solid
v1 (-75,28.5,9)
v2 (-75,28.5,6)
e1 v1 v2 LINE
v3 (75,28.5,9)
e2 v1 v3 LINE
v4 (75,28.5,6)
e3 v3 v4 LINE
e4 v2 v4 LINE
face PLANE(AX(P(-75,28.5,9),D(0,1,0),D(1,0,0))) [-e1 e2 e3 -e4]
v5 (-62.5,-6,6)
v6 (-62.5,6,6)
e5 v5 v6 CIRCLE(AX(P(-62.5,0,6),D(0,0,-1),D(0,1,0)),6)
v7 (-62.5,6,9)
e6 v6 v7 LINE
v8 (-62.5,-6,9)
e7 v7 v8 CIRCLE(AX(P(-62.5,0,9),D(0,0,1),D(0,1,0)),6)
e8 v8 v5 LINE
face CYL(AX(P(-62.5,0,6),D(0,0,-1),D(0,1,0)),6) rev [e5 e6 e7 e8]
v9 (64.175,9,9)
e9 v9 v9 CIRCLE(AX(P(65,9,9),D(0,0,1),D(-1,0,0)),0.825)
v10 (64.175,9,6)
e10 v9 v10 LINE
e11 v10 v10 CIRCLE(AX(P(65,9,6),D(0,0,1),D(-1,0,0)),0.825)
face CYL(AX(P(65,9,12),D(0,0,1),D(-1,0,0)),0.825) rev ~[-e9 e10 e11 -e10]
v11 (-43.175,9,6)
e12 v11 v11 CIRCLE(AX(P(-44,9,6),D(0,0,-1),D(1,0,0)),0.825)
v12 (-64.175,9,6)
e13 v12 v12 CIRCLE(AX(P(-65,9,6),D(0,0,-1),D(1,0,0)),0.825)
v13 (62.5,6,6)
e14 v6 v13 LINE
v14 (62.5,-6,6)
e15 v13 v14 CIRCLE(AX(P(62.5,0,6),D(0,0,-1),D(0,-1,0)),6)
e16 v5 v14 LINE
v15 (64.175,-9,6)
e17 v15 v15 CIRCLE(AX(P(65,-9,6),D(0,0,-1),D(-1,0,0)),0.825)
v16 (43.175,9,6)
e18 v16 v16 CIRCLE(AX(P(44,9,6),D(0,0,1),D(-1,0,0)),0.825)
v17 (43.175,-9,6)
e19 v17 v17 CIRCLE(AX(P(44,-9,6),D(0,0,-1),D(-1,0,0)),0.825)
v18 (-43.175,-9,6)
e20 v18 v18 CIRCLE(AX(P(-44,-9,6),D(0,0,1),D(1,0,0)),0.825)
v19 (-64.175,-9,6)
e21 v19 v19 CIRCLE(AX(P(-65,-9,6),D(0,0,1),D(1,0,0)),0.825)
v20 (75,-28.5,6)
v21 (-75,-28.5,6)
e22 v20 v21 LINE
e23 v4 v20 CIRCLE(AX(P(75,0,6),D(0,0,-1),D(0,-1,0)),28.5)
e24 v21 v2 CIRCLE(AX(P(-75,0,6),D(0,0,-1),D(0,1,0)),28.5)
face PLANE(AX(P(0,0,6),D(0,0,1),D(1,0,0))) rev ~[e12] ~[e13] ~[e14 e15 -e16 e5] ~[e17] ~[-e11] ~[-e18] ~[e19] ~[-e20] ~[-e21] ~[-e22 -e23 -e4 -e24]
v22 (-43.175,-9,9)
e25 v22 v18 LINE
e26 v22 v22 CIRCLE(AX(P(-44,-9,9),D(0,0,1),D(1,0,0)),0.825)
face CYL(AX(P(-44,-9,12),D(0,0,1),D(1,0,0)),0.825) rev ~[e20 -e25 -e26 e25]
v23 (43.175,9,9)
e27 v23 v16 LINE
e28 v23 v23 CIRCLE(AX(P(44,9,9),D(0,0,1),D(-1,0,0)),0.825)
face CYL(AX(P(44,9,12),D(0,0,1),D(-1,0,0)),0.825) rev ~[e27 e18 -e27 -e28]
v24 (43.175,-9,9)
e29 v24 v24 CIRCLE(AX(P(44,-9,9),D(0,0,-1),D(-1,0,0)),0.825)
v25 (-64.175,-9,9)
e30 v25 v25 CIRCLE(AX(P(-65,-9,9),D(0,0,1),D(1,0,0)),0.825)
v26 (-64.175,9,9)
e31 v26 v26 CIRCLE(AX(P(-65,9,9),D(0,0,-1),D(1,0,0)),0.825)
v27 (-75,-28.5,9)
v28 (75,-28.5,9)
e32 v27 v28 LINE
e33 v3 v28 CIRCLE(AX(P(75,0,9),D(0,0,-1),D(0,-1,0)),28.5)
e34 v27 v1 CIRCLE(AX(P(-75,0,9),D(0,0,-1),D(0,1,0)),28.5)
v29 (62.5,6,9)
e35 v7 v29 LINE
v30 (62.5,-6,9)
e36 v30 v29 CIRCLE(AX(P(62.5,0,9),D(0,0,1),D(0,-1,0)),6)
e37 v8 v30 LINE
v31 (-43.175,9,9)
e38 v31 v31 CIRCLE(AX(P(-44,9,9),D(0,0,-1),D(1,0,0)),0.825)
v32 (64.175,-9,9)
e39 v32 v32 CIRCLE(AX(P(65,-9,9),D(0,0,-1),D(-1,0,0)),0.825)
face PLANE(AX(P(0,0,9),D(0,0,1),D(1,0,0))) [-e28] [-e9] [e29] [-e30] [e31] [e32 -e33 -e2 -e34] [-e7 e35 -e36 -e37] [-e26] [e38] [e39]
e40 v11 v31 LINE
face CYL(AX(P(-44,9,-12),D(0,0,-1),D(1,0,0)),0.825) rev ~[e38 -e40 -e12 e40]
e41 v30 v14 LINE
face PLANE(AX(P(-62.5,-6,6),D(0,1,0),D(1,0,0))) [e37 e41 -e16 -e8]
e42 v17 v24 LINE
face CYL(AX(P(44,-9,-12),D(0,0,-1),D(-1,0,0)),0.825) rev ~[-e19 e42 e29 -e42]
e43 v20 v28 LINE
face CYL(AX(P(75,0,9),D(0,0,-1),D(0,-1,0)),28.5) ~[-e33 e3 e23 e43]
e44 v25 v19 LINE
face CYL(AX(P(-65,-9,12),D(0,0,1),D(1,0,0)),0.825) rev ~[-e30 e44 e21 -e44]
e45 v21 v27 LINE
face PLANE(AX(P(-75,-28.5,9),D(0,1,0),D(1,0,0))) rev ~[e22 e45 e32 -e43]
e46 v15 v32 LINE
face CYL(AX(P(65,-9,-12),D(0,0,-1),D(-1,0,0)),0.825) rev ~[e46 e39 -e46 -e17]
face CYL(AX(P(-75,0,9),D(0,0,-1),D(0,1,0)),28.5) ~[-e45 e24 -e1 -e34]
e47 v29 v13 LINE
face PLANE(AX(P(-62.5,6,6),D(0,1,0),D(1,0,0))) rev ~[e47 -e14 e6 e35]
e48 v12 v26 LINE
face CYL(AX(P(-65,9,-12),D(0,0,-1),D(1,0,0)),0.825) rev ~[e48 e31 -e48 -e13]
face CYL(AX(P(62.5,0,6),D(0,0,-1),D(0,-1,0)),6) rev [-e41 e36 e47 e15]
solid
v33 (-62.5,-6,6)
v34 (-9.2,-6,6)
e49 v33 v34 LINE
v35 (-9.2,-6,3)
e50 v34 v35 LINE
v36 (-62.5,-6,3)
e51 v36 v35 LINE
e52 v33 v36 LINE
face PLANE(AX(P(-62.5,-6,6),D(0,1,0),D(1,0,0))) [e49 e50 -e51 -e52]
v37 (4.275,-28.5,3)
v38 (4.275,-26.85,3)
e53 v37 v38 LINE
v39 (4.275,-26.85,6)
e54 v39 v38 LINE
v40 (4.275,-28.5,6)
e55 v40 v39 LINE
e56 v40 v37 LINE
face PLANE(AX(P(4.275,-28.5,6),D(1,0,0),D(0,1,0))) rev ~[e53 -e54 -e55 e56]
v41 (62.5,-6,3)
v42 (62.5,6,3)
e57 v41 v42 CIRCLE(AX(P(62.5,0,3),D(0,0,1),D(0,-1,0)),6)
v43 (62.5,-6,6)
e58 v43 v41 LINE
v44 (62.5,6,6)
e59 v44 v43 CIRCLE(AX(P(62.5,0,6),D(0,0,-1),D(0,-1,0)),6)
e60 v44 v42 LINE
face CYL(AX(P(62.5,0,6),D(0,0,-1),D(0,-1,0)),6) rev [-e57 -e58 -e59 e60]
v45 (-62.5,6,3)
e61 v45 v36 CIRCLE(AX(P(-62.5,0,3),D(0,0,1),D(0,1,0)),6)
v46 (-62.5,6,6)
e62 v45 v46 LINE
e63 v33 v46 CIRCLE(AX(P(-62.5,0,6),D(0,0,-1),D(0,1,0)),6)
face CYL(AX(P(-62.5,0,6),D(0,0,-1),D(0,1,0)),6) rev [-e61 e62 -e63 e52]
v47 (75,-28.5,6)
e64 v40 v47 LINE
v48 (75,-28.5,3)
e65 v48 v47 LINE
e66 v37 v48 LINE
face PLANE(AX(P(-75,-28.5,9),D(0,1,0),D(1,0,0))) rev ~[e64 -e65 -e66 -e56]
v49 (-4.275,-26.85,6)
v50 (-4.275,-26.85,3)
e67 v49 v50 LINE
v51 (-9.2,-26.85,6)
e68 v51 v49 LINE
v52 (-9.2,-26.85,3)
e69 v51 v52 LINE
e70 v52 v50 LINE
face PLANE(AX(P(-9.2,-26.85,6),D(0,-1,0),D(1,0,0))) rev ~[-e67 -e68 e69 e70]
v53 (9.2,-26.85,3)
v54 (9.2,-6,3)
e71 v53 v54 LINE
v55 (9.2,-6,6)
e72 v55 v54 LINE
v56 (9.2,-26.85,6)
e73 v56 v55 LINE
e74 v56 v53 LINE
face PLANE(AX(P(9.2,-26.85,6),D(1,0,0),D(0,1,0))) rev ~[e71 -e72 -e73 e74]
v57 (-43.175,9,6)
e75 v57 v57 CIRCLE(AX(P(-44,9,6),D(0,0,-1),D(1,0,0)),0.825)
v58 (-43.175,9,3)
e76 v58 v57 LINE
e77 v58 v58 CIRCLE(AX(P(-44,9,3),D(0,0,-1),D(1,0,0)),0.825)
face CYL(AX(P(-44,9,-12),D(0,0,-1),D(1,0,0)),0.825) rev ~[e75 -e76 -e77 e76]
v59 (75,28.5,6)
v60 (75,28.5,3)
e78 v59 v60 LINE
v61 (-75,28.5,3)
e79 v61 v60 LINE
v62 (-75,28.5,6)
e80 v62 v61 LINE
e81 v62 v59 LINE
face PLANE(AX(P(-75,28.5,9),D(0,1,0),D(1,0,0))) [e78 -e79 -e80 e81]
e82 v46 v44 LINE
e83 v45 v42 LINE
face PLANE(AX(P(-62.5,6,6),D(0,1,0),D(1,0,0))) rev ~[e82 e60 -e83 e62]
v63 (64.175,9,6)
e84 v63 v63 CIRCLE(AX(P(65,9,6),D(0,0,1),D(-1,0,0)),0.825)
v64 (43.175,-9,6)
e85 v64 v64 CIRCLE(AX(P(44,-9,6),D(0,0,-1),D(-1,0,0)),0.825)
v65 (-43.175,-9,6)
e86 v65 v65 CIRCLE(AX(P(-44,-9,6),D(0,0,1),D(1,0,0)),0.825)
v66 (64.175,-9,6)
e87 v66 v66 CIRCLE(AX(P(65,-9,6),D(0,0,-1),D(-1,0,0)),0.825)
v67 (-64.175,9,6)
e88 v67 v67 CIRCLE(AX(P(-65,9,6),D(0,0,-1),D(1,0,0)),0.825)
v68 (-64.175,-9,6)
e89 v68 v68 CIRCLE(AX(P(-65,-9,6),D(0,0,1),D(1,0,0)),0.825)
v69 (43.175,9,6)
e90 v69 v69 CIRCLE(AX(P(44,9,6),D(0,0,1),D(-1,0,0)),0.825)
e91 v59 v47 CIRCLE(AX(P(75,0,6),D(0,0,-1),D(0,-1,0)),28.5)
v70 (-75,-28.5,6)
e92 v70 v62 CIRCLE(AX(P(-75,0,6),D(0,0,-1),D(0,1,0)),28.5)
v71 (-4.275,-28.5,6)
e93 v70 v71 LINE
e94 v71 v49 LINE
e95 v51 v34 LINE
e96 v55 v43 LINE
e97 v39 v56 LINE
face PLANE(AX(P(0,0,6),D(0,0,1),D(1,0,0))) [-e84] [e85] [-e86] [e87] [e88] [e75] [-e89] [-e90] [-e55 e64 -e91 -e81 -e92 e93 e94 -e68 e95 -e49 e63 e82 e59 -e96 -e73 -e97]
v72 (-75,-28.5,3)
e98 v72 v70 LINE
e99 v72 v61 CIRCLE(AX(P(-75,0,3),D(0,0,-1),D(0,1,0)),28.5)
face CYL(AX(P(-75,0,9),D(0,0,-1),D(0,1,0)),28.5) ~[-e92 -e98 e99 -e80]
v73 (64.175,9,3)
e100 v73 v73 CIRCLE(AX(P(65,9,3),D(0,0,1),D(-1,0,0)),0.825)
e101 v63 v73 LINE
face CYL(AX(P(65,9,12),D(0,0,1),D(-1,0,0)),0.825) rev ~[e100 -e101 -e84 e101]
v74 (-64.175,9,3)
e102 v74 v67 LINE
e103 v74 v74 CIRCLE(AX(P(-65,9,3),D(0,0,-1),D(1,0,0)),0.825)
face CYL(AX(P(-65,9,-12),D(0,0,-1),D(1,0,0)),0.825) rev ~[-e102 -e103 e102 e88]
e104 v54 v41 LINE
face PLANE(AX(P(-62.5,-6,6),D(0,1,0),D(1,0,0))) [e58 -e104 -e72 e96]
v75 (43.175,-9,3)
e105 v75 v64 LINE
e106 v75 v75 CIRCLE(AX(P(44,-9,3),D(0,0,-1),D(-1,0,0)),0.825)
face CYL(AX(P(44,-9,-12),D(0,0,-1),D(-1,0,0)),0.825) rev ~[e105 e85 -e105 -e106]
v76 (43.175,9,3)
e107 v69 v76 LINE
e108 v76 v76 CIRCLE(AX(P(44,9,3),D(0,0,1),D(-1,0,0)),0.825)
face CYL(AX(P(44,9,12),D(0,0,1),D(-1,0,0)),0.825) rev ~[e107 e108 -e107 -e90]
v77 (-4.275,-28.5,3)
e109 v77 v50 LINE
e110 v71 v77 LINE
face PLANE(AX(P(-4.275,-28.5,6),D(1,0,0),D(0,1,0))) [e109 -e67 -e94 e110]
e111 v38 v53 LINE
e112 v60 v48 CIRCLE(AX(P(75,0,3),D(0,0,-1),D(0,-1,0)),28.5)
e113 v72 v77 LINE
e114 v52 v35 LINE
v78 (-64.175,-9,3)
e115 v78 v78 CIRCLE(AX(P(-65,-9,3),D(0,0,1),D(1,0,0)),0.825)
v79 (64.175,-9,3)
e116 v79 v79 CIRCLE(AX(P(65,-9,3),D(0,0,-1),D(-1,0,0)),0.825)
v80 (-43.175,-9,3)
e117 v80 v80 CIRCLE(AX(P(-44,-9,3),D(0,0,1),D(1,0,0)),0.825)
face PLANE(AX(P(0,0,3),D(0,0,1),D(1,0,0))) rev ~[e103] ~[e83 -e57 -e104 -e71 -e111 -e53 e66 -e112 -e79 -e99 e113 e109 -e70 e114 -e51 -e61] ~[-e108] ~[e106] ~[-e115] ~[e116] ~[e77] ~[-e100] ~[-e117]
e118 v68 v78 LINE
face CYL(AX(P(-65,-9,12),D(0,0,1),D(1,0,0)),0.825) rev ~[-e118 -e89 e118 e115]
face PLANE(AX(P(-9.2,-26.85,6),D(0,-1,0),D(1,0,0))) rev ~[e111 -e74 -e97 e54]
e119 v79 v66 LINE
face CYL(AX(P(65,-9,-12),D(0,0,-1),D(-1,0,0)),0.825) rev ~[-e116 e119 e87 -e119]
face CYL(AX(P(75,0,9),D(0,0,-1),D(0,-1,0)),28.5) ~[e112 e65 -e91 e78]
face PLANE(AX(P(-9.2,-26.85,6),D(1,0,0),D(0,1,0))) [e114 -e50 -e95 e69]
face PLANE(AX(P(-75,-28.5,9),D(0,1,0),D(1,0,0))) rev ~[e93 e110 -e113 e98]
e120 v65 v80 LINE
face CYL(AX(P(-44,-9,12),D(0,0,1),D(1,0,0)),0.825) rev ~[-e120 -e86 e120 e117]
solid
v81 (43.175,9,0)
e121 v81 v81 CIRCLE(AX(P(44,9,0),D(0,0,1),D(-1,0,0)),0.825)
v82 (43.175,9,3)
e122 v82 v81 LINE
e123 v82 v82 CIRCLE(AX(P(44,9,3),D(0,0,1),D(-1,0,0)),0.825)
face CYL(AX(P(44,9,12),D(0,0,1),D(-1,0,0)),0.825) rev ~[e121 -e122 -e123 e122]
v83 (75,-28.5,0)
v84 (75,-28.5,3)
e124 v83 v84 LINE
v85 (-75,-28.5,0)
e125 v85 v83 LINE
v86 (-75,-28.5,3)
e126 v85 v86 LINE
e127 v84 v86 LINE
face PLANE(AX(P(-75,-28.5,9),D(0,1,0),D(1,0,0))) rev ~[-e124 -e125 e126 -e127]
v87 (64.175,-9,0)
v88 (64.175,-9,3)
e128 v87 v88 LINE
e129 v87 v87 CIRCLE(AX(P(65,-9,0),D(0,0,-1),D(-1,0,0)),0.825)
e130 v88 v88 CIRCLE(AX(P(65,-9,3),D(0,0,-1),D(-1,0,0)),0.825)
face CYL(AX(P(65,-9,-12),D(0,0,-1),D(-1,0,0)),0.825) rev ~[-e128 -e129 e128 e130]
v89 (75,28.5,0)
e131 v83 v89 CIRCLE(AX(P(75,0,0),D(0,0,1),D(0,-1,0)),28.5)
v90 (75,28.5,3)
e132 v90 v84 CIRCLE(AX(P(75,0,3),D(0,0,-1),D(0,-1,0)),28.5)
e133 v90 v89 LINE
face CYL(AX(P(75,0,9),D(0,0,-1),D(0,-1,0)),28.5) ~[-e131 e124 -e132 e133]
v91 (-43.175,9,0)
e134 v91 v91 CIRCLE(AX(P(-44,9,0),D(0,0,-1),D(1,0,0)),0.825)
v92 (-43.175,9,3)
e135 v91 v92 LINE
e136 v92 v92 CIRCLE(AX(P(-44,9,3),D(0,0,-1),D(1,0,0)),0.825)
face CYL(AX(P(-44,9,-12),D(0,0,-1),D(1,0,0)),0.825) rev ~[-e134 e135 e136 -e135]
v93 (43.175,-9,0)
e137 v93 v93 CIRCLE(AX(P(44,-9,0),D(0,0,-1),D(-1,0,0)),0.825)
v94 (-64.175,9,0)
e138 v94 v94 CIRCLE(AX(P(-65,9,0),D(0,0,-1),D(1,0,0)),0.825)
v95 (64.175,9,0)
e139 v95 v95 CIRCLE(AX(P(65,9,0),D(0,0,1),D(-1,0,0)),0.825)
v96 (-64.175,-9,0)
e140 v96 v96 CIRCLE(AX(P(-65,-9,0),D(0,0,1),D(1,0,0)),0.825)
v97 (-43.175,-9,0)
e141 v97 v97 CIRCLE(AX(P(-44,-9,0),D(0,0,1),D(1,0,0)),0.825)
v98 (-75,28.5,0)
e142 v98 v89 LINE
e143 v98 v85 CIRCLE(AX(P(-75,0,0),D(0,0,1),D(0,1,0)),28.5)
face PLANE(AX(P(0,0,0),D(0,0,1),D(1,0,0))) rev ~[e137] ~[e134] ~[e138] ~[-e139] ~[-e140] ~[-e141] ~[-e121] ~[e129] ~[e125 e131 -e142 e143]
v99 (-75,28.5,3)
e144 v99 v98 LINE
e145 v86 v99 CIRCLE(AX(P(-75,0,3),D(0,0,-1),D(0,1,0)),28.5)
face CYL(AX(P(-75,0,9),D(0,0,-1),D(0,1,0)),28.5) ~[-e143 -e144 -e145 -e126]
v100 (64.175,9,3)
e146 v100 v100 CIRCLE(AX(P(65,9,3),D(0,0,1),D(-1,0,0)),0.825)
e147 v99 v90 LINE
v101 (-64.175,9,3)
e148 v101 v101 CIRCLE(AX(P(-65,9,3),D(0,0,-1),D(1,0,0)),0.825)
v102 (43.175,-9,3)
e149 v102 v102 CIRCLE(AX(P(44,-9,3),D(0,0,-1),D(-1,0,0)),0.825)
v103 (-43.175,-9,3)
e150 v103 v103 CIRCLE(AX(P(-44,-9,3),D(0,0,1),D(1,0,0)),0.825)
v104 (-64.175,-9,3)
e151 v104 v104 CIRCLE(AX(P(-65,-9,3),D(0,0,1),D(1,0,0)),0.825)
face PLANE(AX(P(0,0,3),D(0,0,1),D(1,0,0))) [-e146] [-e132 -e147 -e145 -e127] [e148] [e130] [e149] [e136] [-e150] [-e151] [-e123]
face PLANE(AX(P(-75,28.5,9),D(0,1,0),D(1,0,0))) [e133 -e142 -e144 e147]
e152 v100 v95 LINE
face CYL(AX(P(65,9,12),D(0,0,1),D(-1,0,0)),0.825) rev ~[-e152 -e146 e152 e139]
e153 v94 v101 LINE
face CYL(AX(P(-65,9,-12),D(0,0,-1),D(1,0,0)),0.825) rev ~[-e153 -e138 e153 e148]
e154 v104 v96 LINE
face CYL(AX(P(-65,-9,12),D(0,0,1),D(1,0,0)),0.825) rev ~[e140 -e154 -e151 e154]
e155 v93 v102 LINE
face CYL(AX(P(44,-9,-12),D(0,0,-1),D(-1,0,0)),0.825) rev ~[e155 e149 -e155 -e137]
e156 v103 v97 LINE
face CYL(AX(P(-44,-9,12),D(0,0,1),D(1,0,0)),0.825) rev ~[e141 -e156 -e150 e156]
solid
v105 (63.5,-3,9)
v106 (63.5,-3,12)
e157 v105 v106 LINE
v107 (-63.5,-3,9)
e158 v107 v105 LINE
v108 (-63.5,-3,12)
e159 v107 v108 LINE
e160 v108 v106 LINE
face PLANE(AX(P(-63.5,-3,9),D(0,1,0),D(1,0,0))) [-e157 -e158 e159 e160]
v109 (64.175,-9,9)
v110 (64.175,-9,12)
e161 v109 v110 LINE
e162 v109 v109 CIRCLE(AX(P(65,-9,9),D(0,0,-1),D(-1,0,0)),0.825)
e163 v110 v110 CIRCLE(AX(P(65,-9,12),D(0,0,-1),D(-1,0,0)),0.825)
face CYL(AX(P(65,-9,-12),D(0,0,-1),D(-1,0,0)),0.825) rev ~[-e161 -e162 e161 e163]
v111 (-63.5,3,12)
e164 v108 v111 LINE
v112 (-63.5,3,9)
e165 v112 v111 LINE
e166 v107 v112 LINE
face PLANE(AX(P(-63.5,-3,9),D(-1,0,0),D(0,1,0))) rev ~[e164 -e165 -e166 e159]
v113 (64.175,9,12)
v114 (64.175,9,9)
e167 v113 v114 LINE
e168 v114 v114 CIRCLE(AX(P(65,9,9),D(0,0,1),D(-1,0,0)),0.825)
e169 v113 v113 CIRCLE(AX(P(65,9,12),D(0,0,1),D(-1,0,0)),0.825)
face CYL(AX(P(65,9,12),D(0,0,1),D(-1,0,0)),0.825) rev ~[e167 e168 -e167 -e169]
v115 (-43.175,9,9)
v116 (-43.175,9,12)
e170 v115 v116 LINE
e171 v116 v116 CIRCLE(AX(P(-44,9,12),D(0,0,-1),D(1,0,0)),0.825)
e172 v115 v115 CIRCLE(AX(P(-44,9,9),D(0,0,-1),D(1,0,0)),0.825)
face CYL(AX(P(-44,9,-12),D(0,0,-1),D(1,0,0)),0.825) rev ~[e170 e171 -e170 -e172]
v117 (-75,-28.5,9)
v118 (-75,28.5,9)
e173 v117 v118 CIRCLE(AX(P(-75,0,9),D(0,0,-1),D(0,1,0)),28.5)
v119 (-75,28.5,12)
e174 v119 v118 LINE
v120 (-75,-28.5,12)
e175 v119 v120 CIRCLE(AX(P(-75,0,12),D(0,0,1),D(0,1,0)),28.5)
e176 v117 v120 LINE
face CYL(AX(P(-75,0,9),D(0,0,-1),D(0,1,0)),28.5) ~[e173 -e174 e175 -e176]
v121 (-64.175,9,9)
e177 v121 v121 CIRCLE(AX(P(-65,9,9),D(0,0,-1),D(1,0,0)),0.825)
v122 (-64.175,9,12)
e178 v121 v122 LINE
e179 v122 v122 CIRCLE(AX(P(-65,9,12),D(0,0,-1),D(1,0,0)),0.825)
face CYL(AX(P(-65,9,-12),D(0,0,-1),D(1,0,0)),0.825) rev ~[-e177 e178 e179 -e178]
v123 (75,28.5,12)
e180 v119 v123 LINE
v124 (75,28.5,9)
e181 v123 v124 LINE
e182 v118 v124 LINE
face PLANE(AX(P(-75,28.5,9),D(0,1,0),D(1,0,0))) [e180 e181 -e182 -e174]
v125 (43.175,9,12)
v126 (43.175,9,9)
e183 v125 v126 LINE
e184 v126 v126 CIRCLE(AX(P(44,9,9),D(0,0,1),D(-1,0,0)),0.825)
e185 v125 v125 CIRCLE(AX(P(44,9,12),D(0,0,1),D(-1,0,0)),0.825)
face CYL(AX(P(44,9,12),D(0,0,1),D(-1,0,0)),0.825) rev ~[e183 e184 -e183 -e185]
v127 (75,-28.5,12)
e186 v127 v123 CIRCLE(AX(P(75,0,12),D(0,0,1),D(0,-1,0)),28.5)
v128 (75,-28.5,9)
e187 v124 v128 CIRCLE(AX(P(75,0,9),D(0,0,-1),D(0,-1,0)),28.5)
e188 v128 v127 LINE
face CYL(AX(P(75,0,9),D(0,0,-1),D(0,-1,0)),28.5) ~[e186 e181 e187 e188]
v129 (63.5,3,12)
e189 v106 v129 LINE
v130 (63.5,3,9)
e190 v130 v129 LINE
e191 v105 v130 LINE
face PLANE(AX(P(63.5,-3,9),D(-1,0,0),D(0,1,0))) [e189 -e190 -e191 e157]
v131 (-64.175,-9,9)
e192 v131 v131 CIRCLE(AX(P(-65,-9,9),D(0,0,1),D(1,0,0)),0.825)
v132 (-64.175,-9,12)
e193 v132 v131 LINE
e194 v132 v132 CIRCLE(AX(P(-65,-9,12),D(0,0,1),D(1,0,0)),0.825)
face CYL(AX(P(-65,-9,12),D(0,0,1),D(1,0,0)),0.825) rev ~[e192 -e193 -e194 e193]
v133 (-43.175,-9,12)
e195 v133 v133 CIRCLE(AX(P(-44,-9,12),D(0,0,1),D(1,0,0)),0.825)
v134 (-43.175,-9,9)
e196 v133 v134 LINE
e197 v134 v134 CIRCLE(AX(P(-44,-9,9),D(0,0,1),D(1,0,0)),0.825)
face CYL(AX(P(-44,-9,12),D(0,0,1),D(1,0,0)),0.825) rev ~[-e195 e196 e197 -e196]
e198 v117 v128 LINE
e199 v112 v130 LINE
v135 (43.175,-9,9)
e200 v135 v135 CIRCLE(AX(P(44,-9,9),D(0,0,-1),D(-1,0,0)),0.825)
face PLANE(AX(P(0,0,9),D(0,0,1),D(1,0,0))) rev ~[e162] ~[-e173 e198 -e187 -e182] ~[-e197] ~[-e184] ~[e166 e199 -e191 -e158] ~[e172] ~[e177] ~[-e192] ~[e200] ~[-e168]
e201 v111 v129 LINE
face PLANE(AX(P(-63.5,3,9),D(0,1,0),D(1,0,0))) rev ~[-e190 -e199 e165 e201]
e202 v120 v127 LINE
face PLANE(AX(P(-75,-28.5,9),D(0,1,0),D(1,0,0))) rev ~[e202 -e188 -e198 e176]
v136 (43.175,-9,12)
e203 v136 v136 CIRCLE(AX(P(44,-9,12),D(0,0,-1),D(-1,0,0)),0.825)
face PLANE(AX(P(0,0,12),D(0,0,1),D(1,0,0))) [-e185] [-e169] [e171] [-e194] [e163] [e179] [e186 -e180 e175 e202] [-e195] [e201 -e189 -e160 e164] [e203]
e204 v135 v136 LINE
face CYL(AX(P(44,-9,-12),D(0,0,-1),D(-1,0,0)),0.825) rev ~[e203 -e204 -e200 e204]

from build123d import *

# Parameters (mm, degrees)
BOX_BOTTOM_HALF_1_W     = 209
BOX_BOTTOM_HALF_1_H     = 59
BOX_BOTTOM_HALF_1_DEPTH = 4
BOX_BOTTOM_HALF_0_W     = 209
BOX_BOTTOM_HALF_0_H     = 59
BOX_BOTTOM_HALF_0_DEPTH = 7
PAD_DEPTH               = 6
POCKET_DEPTH            = 3
SKETCH002_W             = 18.4
SKETCH002_H             = 20.85
POCKET001_DEPTH         = 3
SKETCH003_W             = 8.55
SKETCH003_H             = 1.65
POCKET002_DEPTH         = 3
PAD001_DEPTH            = 3
SKETCH005_W             = 127
SKETCH005_H             = 6
PAD002_DEPTH            = 3
SKETCH006_R             = 0.825
POCKET003_DEPTH         = 442.080062
POLARPATTERN_COUNT      = 2
POLARPATTERN001_COUNT   = 2
POLARPATTERN002_COUNT   = 2
BOX_BOTTOM_HALF_2_W     = 209
BOX_BOTTOM_HALF_2_H     = 59
BOX_BOTTOM_HALF_2_DEPTH = 4


with BuildPart() as box_bottom_half_1_body:
    # box_bottom_half_1 → box_bottom_half_1 (new body)
    with BuildSketch(Plane(origin=(-104.5, -29.5, -1), x_dir=(1, 0, 0), z_dir=(0, 0, 1))):
        with Locations((104.5, 29.5)):
            Rectangle(BOX_BOTTOM_HALF_1_W, BOX_BOTTOM_HALF_1_H)
    extrude(amount=BOX_BOTTOM_HALF_1_DEPTH)


with BuildPart() as box_bottom_half_0_body:
    # box_bottom_half_0 → box_bottom_half_0 (new body)
    with BuildSketch(Plane(origin=(-104.5, -29.5, -1), x_dir=(1, 0, 0), z_dir=(0, 0, 1))):
        with Locations((104.5, 29.5)):
            Rectangle(BOX_BOTTOM_HALF_0_W, BOX_BOTTOM_HALF_0_H)
    extrude(amount=BOX_BOTTOM_HALF_0_DEPTH)


with BuildPart() as body:
    # Sketch → Pad (new body)
    with BuildSketch(Plane.XY):
        with BuildLine():
            ThreePointArc((-75, 28.5), (-103.5, 0), (-75, -28.5))
            Line((-75, -28.5), (75, -28.5))
            ThreePointArc((75, -28.5), (103.5, 0), (75, 28.5))
            Line((-75, 28.5), (75, 28.5))
        make_face()
    extrude(amount=PAD_DEPTH)

    # Sketch001 (on Face6 of Pad) → Pocket (cut)
    with BuildSketch(Plane.XY.offset(6)):
        with BuildLine():
            ThreePointArc((-62.5, 6), (-68.5, 0), (-62.5, -6))
            Line((-62.5, -6), (62.5, -6))
            ThreePointArc((62.5, -6), (68.5, 0), (62.5, 6))
            Line((-62.5, 6), (62.5, 6))
        make_face()
    extrude(amount=-POCKET_DEPTH, mode=Mode.SUBTRACT)

    # Sketch002 (on Face5 of Pocket) → Pocket001 (cut)
    with BuildSketch(Plane.XY.offset(6)):
        with Locations((0, -16.425)):
            Rectangle(SKETCH002_W, SKETCH002_H)
    extrude(amount=-POCKET001_DEPTH, mode=Mode.SUBTRACT)

    # Sketch003 (on Face5 of Pocket001) → Pocket002 (cut)
    with BuildSketch(Plane.XY.offset(6)):
        with Locations((0, -27.675)):
            Rectangle(SKETCH003_W, SKETCH003_H)
    extrude(amount=-POCKET002_DEPTH, mode=Mode.SUBTRACT)

    # Sketch004 (on Face5 of Pocket002) → Pad001 (join)
    with BuildSketch(Plane.XY.offset(6)):
        with BuildLine():
            ThreePointArc((-75, 28.5), (-103.5, 0), (-75, -28.5))
            Line((-75, -28.5), (75, -28.5))
            ThreePointArc((75, -28.5), (103.5, 0), (75, 28.5))
            Line((-75, 28.5), (75, 28.5))
        make_face()
        with BuildLine():
            ThreePointArc((-62.5, 6), (-68.5, 0), (-62.5, -6))
            Line((-62.5, -6), (62.5, -6))
            ThreePointArc((62.5, -6), (68.5, 0), (62.5, 6))
            Line((-62.5, 6), (62.5, 6))
        make_face(mode=Mode.SUBTRACT)
    extrude(amount=PAD001_DEPTH)

    # Sketch005 (on Face12 of Pad001) → Pad002 (join)
    with BuildSketch(Plane.XY.offset(9)):
        with BuildLine():
            ThreePointArc((-75, 28.5), (-103.5, 0), (-75, -28.5))
            Line((-75, -28.5), (75, -28.5))
            ThreePointArc((75, -28.5), (103.5, 0), (75, 28.5))
            Line((-75, 28.5), (75, 28.5))
        make_face()
        Rectangle(SKETCH005_W, SKETCH005_H, mode=Mode.SUBTRACT)
    extrude(amount=PAD002_DEPTH)

    # Sketch006 (on Face20 of Pad002) → Pocket003 (cut, through all)
    with BuildSketch(Plane.XY.offset(12)):
        with Locations((-65, -9)):
            Circle(SKETCH006_R)
        with Locations((-44, -9)):
            Circle(SKETCH006_R)
    pocket003 = extrude(amount=-POCKET003_DEPTH, mode=Mode.SUBTRACT)

    # PolarPattern: Pocket003 ×2 about axis
    polarpattern_axis = Axis((0, 0, 12), (0, 0, 1))
    for i in range(1, POLARPATTERN_COUNT):
        add(pocket003.rotate(polarpattern_axis, i * 360 / POLARPATTERN_COUNT), mode=Mode.SUBTRACT)

    # PolarPattern001: Pocket003 ×2 about axis
    polarpattern001_axis = Axis((0, 0, 0), (0, 1, 0))
    for i in range(1, POLARPATTERN001_COUNT):
        add(pocket003.rotate(polarpattern001_axis, i * 360 / POLARPATTERN001_COUNT), mode=Mode.SUBTRACT)

    # PolarPattern002: Pocket003 ×2 about axis
    polarpattern002_axis = Axis((0, 0, 0), (-1, 0, 0))
    for i in range(1, POLARPATTERN002_COUNT):
        add(pocket003.rotate(polarpattern002_axis, i * 360 / POLARPATTERN002_COUNT), mode=Mode.SUBTRACT)


with BuildPart() as bottom_half_0_body:
    # bottom_half_0 base: copy of Body
    add(body.part)

    # bottom_half_0: intersect box_bottom_half_0 body
    add(box_bottom_half_0_body.part, mode=Mode.INTERSECT)


with BuildPart() as bottom_half_1_body:
    # bottom_half_1 base: copy of bottom_half_0 body
    add(bottom_half_0_body.part)

    # bottom_half_1: intersect box_bottom_half_1 body
    add(box_bottom_half_1_body.part, mode=Mode.INTERSECT)


with BuildPart() as top_half_1_body:
    # top_half_1 base: copy of bottom_half_0 body
    add(bottom_half_0_body.part)

    # top_half_1: cut box_bottom_half_1 body
    add(box_bottom_half_1_body.part, mode=Mode.SUBTRACT)


with BuildPart() as box_bottom_half_2_body:
    # box_bottom_half_2 → box_bottom_half_2 (new body)
    with BuildSketch(Plane(origin=(-104.5, -29.5, 5), x_dir=(1, 0, 0), z_dir=(0, 0, 1))):
        with Locations((104.5, 29.5)):
            Rectangle(BOX_BOTTOM_HALF_2_W, BOX_BOTTOM_HALF_2_H)
    extrude(amount=BOX_BOTTOM_HALF_2_DEPTH)


with BuildPart() as top_half_0_body:
    # top_half_0 base: copy of Body
    add(body.part)

    # top_half_0: cut box_bottom_half_0 body
    add(box_bottom_half_0_body.part, mode=Mode.SUBTRACT)


with BuildPart() as bottom_half_2_body:
    # bottom_half_2 base: copy of top_half_0 body
    add(top_half_0_body.part)

    # bottom_half_2: intersect box_bottom_half_2 body
    add(box_bottom_half_2_body.part, mode=Mode.INTERSECT)


with BuildPart() as top_half_2_body:
    # top_half_2 base: copy of top_half_0 body
    add(top_half_0_body.part)

    # top_half_2: cut box_bottom_half_2 body
    add(box_bottom_half_2_body.part, mode=Mode.SUBTRACT)


solid = Compound([bottom_half_1_body.part, top_half_1_body.part, bottom_half_2_body.part, top_half_2_body.part])
